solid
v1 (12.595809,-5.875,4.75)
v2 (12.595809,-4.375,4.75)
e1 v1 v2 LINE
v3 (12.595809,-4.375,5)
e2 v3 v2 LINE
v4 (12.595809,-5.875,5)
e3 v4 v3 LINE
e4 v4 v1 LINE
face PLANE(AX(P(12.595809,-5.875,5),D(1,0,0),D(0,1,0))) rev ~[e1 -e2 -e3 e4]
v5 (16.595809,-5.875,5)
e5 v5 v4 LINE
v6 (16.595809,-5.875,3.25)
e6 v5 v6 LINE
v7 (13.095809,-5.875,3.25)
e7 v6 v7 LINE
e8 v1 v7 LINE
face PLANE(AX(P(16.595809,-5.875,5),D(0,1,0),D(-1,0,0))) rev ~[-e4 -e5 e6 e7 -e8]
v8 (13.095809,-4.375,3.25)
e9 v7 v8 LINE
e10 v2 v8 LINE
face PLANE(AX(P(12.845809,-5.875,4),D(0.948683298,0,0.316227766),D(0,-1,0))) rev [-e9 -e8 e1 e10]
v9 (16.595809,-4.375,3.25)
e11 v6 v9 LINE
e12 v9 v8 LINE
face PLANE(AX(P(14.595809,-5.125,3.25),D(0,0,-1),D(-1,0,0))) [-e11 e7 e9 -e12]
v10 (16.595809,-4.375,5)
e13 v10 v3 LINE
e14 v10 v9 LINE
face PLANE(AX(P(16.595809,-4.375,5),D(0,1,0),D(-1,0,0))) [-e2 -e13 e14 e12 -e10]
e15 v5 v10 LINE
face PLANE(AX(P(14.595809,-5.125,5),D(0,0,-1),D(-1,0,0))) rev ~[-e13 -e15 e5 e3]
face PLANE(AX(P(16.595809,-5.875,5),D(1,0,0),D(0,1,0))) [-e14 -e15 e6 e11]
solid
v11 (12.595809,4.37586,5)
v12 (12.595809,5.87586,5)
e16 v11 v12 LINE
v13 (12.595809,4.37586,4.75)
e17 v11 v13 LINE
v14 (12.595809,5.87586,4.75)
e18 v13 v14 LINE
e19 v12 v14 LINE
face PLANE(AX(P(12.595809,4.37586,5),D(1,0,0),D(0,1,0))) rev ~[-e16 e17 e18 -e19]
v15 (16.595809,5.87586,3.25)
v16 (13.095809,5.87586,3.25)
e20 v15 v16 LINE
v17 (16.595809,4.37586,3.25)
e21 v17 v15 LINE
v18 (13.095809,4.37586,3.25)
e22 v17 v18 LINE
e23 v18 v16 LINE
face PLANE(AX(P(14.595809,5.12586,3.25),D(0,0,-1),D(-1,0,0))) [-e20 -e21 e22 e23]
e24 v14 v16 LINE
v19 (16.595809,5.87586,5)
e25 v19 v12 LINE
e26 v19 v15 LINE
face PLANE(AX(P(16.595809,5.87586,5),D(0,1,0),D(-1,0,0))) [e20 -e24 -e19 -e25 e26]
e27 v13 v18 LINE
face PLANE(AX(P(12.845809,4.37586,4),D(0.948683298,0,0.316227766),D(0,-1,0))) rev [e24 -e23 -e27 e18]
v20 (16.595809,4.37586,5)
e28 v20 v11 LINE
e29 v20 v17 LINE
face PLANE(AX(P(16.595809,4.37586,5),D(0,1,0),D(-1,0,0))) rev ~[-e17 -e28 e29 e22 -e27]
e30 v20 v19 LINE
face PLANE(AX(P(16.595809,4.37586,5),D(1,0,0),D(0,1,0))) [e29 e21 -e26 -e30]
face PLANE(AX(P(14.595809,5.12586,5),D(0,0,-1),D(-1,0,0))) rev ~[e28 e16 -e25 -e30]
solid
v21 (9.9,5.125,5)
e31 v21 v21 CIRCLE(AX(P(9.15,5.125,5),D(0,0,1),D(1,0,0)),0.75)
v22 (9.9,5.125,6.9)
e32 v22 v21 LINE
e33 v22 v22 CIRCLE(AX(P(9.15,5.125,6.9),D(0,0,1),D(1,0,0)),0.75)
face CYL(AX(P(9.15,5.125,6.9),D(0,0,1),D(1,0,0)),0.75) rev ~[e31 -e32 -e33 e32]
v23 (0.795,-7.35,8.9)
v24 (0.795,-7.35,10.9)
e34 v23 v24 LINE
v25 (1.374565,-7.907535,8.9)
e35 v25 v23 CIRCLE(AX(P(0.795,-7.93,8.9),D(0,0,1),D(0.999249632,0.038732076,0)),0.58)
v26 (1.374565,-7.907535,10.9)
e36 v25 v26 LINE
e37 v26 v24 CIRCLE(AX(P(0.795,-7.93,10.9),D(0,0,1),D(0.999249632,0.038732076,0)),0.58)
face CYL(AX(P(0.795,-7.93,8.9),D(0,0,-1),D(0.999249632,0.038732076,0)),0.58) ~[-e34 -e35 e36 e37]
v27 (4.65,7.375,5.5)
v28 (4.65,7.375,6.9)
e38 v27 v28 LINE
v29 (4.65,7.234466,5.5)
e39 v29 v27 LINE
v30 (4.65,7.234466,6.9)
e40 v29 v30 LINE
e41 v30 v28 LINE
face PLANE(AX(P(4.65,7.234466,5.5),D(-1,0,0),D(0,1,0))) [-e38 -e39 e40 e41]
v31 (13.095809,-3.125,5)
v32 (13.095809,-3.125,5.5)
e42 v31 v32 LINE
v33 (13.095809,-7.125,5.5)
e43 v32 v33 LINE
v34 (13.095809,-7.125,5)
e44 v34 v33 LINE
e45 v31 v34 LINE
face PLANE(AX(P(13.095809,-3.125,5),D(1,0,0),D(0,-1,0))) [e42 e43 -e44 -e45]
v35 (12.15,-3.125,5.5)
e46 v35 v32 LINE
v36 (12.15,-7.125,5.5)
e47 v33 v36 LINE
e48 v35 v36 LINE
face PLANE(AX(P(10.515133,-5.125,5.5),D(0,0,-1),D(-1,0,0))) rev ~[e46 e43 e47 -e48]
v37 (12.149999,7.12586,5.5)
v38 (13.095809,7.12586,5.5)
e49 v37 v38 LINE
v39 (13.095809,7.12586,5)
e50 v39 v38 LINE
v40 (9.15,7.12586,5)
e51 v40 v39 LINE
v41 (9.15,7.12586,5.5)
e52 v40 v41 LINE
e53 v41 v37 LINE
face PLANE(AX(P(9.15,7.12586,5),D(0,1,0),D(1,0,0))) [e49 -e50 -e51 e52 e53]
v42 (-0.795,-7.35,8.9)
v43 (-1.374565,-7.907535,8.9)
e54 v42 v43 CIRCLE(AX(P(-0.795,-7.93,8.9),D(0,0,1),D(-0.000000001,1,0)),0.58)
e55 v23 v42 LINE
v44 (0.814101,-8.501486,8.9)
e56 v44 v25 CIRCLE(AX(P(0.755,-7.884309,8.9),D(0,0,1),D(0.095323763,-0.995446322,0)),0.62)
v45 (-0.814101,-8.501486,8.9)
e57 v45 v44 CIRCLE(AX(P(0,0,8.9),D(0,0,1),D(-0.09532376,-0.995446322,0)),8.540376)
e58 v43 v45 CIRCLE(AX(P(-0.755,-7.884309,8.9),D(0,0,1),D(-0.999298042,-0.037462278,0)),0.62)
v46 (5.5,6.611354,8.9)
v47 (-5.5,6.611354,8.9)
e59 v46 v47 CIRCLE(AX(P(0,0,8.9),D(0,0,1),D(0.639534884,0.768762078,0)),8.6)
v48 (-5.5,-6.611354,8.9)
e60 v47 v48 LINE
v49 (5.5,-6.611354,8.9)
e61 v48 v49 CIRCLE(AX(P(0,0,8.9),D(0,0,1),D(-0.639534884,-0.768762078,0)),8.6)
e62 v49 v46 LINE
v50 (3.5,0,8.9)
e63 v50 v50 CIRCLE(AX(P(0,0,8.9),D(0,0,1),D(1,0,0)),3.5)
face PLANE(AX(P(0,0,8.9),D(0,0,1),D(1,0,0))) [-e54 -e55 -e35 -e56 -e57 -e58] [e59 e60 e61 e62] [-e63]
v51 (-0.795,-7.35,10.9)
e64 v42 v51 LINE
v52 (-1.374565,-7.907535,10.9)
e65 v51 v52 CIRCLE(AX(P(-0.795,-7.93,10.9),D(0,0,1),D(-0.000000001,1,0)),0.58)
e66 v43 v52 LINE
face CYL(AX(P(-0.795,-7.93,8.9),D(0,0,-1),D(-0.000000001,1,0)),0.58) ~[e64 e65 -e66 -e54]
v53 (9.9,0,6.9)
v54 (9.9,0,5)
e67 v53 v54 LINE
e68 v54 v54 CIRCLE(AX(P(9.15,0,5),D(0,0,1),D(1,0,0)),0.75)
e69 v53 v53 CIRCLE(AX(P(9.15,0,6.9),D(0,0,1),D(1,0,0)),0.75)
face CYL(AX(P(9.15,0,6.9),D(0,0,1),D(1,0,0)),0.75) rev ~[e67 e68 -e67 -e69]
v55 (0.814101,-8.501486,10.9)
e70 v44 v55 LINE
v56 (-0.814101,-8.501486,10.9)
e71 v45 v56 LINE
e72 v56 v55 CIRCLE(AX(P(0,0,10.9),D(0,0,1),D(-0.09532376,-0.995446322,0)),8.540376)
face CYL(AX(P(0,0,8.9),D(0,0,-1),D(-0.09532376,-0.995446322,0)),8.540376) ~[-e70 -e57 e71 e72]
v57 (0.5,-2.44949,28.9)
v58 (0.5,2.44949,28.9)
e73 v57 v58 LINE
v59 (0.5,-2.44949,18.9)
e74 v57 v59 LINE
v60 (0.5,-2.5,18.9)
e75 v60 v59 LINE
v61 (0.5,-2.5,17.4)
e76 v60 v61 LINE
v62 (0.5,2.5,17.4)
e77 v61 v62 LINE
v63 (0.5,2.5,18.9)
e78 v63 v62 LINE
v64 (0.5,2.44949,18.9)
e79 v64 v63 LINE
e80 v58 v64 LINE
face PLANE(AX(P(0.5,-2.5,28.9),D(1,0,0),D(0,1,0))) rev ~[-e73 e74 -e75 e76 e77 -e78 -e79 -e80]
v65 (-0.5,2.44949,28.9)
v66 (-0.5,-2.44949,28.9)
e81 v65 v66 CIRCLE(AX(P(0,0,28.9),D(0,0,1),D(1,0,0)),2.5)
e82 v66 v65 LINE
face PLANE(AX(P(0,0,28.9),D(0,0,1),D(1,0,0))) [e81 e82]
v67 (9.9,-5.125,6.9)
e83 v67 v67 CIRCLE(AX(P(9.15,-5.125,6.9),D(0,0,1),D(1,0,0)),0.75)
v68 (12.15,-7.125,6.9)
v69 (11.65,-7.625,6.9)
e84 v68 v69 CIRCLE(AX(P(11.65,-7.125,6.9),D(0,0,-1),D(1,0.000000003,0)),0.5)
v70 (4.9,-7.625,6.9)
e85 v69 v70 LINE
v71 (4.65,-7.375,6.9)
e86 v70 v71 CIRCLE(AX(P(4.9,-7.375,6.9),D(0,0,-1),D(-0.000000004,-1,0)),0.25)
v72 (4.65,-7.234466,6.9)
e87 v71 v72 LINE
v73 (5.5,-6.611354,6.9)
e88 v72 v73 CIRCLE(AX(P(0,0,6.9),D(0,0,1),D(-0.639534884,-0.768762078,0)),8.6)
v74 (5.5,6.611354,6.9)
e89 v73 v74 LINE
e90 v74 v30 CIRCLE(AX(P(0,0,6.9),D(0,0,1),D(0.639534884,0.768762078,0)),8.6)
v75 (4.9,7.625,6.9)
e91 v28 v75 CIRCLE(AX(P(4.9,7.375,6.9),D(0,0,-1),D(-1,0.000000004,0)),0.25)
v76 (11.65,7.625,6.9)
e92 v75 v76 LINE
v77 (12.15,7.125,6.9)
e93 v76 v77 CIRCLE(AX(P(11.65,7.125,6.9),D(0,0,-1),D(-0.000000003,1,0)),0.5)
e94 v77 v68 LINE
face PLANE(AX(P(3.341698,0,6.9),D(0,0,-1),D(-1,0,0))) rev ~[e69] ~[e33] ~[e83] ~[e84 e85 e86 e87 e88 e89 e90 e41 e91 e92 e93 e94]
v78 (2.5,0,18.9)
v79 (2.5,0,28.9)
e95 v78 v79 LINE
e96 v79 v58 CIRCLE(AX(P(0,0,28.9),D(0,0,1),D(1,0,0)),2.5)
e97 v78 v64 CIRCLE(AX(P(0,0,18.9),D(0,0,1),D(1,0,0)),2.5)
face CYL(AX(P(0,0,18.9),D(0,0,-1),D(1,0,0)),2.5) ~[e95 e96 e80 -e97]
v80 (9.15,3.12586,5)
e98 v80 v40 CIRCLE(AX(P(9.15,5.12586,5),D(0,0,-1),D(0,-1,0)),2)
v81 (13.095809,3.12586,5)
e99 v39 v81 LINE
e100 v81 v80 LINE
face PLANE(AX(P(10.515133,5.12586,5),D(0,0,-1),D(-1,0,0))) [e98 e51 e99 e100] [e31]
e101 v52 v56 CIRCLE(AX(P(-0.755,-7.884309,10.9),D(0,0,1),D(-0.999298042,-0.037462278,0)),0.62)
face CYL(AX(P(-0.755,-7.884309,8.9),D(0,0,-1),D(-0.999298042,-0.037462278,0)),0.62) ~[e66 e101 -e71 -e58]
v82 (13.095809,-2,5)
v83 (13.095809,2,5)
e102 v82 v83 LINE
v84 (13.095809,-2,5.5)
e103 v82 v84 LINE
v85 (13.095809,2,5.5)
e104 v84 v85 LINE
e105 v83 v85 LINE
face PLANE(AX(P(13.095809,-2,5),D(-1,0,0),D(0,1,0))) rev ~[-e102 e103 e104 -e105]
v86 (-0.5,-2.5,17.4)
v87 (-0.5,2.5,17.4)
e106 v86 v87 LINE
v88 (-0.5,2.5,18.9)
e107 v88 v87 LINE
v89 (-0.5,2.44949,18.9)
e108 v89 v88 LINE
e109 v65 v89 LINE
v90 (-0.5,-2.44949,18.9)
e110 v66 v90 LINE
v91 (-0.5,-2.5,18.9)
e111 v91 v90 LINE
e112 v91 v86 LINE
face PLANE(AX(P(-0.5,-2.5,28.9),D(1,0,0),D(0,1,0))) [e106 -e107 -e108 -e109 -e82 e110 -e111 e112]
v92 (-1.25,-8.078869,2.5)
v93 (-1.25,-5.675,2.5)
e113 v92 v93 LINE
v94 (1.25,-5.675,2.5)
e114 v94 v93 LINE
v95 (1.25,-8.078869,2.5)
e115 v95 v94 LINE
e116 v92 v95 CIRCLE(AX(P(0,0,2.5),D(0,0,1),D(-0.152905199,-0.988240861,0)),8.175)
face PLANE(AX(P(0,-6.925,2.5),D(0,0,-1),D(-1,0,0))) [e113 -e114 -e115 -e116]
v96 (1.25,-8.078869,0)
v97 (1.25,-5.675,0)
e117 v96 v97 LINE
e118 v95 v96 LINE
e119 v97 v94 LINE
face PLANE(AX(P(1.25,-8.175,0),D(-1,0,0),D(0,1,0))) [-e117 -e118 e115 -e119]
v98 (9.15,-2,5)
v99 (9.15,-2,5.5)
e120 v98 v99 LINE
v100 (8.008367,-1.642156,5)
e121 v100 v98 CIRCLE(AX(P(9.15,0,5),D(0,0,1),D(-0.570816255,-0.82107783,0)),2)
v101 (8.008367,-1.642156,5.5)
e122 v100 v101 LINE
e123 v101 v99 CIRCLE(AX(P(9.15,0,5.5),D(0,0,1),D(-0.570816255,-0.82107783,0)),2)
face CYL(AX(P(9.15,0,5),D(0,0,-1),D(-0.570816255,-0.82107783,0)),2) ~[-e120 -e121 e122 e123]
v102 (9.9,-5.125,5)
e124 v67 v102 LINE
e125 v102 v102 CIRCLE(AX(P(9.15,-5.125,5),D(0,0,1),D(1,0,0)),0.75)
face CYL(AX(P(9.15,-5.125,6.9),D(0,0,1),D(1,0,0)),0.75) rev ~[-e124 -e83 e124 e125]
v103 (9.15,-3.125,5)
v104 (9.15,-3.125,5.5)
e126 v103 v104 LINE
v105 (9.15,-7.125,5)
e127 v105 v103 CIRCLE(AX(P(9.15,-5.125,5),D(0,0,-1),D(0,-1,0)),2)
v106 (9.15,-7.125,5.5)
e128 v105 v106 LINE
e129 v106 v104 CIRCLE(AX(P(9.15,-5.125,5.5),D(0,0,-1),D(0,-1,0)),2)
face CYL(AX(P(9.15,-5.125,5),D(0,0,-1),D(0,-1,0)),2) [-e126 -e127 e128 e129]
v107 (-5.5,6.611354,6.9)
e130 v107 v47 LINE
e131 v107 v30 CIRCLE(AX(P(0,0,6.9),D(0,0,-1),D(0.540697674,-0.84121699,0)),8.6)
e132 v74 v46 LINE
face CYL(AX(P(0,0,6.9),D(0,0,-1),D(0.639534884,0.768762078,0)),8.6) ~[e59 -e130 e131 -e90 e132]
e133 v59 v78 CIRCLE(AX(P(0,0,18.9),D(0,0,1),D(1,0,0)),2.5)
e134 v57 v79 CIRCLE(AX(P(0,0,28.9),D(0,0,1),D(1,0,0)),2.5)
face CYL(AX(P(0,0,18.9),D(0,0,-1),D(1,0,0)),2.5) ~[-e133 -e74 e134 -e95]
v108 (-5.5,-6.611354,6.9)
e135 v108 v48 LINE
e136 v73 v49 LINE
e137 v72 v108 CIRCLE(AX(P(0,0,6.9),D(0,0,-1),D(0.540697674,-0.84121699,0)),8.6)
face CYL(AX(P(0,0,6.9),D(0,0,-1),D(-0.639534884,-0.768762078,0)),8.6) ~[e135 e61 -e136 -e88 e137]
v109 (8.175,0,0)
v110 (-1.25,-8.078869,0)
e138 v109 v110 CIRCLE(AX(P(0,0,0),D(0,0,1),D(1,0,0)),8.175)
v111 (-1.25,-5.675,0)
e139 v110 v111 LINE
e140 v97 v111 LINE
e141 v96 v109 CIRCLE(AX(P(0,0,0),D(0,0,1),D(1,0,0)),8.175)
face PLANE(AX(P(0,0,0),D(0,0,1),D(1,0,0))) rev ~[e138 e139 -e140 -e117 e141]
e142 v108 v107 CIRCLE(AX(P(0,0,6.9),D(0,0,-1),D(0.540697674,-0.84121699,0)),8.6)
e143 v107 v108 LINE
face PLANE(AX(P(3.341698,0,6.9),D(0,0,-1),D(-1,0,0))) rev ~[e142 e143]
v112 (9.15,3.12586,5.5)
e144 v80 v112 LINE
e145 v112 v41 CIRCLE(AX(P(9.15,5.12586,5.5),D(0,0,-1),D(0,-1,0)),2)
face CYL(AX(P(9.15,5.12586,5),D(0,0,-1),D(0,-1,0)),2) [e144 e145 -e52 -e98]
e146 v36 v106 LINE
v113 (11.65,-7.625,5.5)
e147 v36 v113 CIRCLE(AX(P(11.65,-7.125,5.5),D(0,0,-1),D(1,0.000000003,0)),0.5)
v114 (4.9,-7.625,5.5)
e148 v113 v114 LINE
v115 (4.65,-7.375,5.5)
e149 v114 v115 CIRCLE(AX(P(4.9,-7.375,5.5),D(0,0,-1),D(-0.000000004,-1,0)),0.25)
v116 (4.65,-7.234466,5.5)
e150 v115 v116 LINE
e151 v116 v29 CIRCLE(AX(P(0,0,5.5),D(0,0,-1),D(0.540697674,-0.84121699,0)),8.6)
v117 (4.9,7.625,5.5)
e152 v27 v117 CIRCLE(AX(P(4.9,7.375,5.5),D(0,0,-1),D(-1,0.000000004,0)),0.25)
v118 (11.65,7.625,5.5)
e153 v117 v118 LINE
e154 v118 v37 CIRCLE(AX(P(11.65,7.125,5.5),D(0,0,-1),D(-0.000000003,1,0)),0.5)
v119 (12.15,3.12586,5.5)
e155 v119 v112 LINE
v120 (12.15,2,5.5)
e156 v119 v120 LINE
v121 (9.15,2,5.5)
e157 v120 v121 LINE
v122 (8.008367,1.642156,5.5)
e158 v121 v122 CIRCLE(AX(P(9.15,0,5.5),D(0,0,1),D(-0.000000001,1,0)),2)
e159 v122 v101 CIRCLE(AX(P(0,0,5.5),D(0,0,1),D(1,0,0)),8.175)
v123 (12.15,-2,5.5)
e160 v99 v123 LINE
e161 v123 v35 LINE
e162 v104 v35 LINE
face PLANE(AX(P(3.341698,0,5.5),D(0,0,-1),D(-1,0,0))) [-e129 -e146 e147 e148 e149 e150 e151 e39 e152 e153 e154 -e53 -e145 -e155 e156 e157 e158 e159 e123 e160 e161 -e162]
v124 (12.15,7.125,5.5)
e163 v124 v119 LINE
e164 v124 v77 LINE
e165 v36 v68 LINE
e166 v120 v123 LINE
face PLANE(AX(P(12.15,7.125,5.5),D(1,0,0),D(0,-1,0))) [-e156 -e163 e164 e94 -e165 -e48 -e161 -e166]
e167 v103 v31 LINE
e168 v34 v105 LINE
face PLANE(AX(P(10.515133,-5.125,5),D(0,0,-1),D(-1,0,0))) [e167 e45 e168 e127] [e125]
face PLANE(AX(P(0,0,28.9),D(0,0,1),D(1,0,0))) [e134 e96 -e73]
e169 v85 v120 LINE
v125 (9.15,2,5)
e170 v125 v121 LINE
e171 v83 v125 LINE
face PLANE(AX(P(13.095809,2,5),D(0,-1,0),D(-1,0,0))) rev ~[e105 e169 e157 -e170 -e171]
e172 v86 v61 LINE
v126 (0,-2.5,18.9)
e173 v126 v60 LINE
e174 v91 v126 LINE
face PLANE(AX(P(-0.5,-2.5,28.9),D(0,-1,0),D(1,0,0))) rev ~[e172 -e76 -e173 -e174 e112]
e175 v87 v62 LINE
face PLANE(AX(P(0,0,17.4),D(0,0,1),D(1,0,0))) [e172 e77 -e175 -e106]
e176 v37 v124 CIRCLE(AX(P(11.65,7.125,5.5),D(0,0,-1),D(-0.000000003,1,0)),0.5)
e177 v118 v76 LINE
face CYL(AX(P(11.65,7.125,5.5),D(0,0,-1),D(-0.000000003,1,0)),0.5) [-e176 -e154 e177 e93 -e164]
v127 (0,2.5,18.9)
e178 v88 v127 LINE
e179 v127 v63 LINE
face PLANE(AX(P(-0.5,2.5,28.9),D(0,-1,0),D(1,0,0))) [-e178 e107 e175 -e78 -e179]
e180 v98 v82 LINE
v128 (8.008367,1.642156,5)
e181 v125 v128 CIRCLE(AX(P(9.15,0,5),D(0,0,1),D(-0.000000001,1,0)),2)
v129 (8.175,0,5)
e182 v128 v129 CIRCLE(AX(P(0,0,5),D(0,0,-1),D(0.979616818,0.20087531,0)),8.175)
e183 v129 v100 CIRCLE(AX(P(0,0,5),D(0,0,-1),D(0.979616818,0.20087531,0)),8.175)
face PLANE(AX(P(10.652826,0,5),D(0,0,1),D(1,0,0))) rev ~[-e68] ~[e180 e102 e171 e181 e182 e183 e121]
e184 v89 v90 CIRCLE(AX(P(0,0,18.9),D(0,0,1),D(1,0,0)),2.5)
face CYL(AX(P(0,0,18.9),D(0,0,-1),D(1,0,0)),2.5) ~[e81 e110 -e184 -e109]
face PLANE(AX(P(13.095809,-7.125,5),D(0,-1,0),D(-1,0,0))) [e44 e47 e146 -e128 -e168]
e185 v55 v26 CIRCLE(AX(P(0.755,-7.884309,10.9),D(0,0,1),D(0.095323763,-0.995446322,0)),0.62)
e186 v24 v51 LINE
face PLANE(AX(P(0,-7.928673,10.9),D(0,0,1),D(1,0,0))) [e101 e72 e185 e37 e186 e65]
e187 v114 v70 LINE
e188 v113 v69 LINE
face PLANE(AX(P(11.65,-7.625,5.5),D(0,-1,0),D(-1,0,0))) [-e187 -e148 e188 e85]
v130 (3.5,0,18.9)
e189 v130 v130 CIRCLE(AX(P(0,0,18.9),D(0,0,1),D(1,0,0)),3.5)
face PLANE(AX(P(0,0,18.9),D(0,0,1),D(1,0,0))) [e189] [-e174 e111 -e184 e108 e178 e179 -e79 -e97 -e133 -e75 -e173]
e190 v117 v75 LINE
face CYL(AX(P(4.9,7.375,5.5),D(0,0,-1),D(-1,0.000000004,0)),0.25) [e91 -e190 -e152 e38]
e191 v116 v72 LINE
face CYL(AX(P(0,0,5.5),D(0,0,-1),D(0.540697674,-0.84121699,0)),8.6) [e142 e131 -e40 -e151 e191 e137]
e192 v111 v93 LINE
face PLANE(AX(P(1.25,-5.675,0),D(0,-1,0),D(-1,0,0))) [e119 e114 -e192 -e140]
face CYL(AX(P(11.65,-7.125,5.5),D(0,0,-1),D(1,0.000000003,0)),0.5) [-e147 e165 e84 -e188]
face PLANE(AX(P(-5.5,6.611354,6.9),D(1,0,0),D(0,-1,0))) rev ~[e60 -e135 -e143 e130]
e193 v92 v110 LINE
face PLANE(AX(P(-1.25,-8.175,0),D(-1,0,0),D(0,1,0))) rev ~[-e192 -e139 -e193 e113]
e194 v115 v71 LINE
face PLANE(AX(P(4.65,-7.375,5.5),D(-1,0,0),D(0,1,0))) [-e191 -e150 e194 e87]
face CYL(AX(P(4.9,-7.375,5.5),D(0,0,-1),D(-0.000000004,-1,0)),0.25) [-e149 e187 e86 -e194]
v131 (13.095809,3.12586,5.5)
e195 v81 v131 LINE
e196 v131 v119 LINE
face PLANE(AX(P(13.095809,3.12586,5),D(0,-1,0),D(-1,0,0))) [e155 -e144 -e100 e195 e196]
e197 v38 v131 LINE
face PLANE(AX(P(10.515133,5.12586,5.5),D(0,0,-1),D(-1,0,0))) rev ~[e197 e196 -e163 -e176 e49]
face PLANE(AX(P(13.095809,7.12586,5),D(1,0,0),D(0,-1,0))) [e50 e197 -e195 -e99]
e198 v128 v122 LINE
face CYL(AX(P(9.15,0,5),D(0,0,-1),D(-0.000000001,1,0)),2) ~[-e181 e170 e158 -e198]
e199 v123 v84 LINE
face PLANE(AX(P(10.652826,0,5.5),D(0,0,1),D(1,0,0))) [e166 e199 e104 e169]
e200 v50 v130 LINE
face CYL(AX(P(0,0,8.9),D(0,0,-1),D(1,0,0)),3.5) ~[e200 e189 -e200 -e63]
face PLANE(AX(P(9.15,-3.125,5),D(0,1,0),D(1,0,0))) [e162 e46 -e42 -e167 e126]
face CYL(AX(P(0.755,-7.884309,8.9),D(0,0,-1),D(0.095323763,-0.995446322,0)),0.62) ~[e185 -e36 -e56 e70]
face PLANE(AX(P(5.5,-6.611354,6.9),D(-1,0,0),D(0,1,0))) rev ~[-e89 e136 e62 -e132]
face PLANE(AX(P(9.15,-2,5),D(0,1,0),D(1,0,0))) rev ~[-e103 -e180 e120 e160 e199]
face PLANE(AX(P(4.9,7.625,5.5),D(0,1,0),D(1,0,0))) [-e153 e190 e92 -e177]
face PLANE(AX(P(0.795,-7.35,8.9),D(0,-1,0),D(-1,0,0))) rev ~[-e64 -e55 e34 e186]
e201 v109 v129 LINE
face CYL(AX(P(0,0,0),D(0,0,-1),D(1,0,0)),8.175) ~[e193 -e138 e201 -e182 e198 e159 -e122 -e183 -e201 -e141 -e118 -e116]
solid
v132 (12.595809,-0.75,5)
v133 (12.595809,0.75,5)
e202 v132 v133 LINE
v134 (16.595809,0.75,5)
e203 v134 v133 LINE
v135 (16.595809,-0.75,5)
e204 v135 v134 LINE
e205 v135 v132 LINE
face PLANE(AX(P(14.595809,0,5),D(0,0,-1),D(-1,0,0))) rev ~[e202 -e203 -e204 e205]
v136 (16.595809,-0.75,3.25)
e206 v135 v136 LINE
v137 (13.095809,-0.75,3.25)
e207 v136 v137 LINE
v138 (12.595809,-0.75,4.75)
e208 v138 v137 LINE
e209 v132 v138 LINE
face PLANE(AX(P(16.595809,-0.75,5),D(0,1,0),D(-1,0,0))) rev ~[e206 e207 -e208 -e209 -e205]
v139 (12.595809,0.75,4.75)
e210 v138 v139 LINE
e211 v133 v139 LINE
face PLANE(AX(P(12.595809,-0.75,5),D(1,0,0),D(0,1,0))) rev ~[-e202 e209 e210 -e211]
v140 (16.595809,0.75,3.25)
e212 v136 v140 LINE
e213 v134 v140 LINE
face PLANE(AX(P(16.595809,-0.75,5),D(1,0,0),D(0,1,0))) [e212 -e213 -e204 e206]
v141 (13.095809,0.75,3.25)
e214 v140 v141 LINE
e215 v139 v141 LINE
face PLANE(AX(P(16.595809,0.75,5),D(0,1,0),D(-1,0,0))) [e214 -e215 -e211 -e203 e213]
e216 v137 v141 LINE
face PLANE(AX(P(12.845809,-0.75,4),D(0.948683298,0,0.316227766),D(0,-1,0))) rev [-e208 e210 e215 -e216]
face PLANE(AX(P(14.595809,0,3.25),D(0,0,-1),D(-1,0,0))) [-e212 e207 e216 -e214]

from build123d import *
from build123d.topology import SkipClean

# Parameters (mm, degrees)
SKETCH_2_R          = 8.175
EXTRUDE_1_DEPTH     = 5.5
EXTRUDE_2_DEPTH     = 1.4
SKETCH_5_W          = 2.5
SKETCH_5_H          = 2.5
CUT_EXTRUDE_1_DEPTH = 2.5
EXTRUDE_3_DEPTH     = 2
SKETCH_7_R          = 3.5
EXTRUDE_4_DEPTH     = 10
SKETCH_8_R          = 2.5
EXTRUDE_5_DEPTH     = 10
SKETCH_9_W          = 1
SKETCH_9_H          = 5
CUT_EXTRUDE_5_DEPTH = 11.5
EXTRUDE_START       = 0.5
EXTRUDE_6_DEPTH     = 0.5
SKETCH_14_W         = 4
SKETCH_14_H         = 1.5
EXTRUDE_7_DEPTH     = 1.75
EXTRUDE_7_2_DEPTH   = 1.75
EXTRUDE_7_3_DEPTH   = 1.75
SKETCH_11_R         = 0.75
CUT_EXTRUDE_6_DEPTH = 1.9
CHAMFER_1_SIZE      = 1.5
CHAMFER_1_SIZE2     = 0.5
CHAMFER_2_SIZE      = 1.5
CHAMFER_2_SIZE2     = 0.5
CHAMFER_3_SIZE      = 1.5
CHAMFER_3_SIZE2     = 0.5
EXTRUDE_8_DEPTH     = 2


with BuildPart() as part:
    # Эскиз2 → Бобышка-Вытянуть1 (new body)
    with BuildSketch(Plane.XY):
        Circle(SKETCH_2_R)
    extrude(amount=EXTRUDE_1_DEPTH)

    # Эскиз3 → Бобышка-Вытянуть2 (add)
    with BuildSketch(Plane.XY.offset(5.5)):
        with BuildLine():
            Line((4.65, -7.375), (4.65, -7.234466117))
            ThreePointArc((4.65, -7.234466117), (-8.6, 0), (4.65, 7.234466117))
            Line((4.65, 7.234466117), (4.65, 7.375))
            ThreePointArc((4.65, 7.375), (4.723223305, 7.551776695), (4.9, 7.625))
            Line((4.9, 7.625), (11.65, 7.625))
            ThreePointArc((11.65, 7.625), (12.003553391, 7.478553391), (12.15, 7.125))
            Line((12.15, 7.125), (12.15, -7.125))
            ThreePointArc((12.15, -7.125), (12.003553391, -7.478553391), (11.65, -7.625))
            Line((11.65, -7.625), (4.9, -7.625))
            ThreePointArc((4.9, -7.625), (4.723223305, -7.551776695), (4.65, -7.375))
        make_face()
    extrude(amount=EXTRUDE_2_DEPTH)

    # Эскиз5 → Вырез-Вытянуть1 (cut)
    with BuildSketch(Plane(origin=(0, 0, 0), x_dir=(-1, 0, 0), z_dir=(0, 0, -1))):
        with Locations((0, -6.925)):
            Rectangle(SKETCH_5_W, SKETCH_5_H)
    extrude(amount=-CUT_EXTRUDE_1_DEPTH, mode=Mode.SUBTRACT)

    # Эскиз6 → Бобышка-Вытянуть3 (add)
    with SkipClean():  # the faces are left unmerged after this step: merging them gives an invalid solid
        with BuildSketch(Plane.XY.offset(6.9)):
            with BuildLine():
                Line((-5.5, 6.61135387), (-5.5, -6.61135387))
                ThreePointArc((-5.5, -6.61135387), (0, -8.6), (5.5, -6.61135387))
                Line((5.5, -6.61135387), (5.5, 6.61135387))
                ThreePointArc((5.5, 6.61135387), (0, 8.6), (-5.5, 6.61135387))
            make_face()
        extrude(amount=EXTRUDE_3_DEPTH)

    # Эскиз7 → Бобышка-Вытянуть4 (add)
    with SkipClean():  # the faces are left unmerged after this step: merging them gives an invalid solid
        with BuildSketch(Plane.XY.offset(8.9)):
            Circle(SKETCH_7_R)
        extrude(amount=EXTRUDE_4_DEPTH)

    # Эскиз8 → Бобышка-Вытянуть5 (add)
    with SkipClean():  # the faces are left unmerged after this step: merging them gives an invalid solid
        with BuildSketch(Plane.XY.offset(18.9)):
            Circle(SKETCH_8_R)
        extrude(amount=EXTRUDE_5_DEPTH)

    # Эскиз9 → Вырез-Вытянуть5 (cut)
    with SkipClean():  # the faces are left unmerged after this step: merging them gives an invalid solid
        with BuildSketch(Plane.XY.offset(28.9)):
            Rectangle(SKETCH_9_W, SKETCH_9_H)
        extrude(amount=-CUT_EXTRUDE_5_DEPTH, mode=Mode.SUBTRACT)

    # Эскиз12 → Бобышка-Вытянуть6 (add)
    with SkipClean():  # the faces are left unmerged after this step: merging them gives an invalid solid
        with BuildSketch(Plane(origin=(0, 0, 5.5), x_dir=(-1, 0, 0), z_dir=(0, 0, -1)).offset(EXTRUDE_START)):
            with BuildLine():
                Line((-9.15, -2), (-13.095809491, -2))
                Line((-13.095809491, -2), (-13.095809491, 2))
                Line((-13.095809491, 2), (-9.15, 2))
                ThreePointArc((-9.15, 2), (-8.551799079, 1.908443255), (-8.008367486, 1.642155658))
                ThreePointArc((-8.008367486, 1.642155658), (-8.175, 0), (-8.008367486, -1.642155658))
                ThreePointArc((-8.008367486, -1.642155658), (-8.551799079, -1.908443255), (-9.15, -2))
            make_face()
            with BuildLine():
                Line((-9.15, 7.125860343), (-13.095809491, 7.125860343))
                Line((-13.095809491, 7.125860343), (-13.095809491, 3.125860343))
                Line((-13.095809491, 3.125860343), (-9.15, 3.125860343))
                ThreePointArc((-9.15, 3.125860343), (-7.15, 5.125860343), (-9.15, 7.125860343))
            make_face()
            with BuildLine():
                Line((-13.095809491, -3.125), (-13.095809491, -7.125))
                Line((-13.095809491, -7.125), (-9.15, -7.125))
                ThreePointArc((-9.15, -7.125), (-7.15, -5.125), (-9.15, -3.125))
                Line((-9.15, -3.125), (-13.095809491, -3.125))
            make_face()
        extrude(amount=-EXTRUDE_6_DEPTH)

    # Эскиз11 → Вырез-Вытянуть6 (cut)
    with SkipClean():  # the faces are left unmerged after this step: merging them gives an invalid solid
        with BuildSketch(Plane.XY.offset(6.9)):
            with Locations((9.15, 5.125)):
                Circle(SKETCH_11_R)
            with Locations((9.15, 0)):
                Circle(SKETCH_11_R)
            with Locations((9.15, -5.125)):
                Circle(SKETCH_11_R)
        extrude(amount=-CUT_EXTRUDE_6_DEPTH, mode=Mode.SUBTRACT)

    # Эскиз15 → Бобышка-Вытянуть8 (add)
    with SkipClean():  # the faces are left unmerged after this step: merging them gives an invalid solid
        with BuildSketch(Plane.XY.offset(8.9)):
            with BuildLine():
                Line((0.795, -7.35), (-0.795, -7.35))
                ThreePointArc((-0.795, -7.35), (-1.197101063, -7.512011083), (-1.374564786, -7.907535396))
                ThreePointArc((-1.374564786, -7.907535396), (-1.20593337, -8.309819178), (-0.814100732, -8.501485504))
                ThreePointArc((-0.814100732, -8.501485504), (0, -8.540375622), (0.814100732, -8.501485504))
                ThreePointArc((0.814100732, -8.501485504), (1.20593337, -8.309819178), (1.374564786, -7.907535396))
                ThreePointArc((1.374564786, -7.907535396), (1.197101063, -7.512011083), (0.795, -7.35))
            make_face()
        extrude(amount=EXTRUDE_8_DEPTH)


with BuildPart() as body_2:
    # Эскиз14 → Бобышка-Вытянуть7 (new body)
    with BuildSketch(Plane(origin=(0, 0, 5), x_dir=(-1, 0, 0), z_dir=(0, 0, -1))):
        with Locations((-14.595809491, 5.125860343)):
            Rectangle(SKETCH_14_W, SKETCH_14_H)
    extrude(amount=EXTRUDE_7_DEPTH)

    # Фаска1
    chamfer_1_edges = [body_2.edges().sort_by_distance(p)[0] for p in [
        (12.595809491, 5.125860343, 3.25),
    ]]
    chamfer_1_side = [body_2.faces().sort_by_distance(p)[0] for p in [
        (12.595809491, 5.125860343, 4.125),
    ]]
    chamfer(chamfer_1_edges, length=CHAMFER_1_SIZE, length2=CHAMFER_1_SIZE2, reference=chamfer_1_side[0])


with BuildPart() as body_3:
    # Эскиз14 → Extrude 7 2 (new body)
    with BuildSketch(Plane(origin=(0, 0, 5), x_dir=(-1, 0, 0), z_dir=(0, 0, -1))):
        with Locations((-14.595809491, 0)):
            Rectangle(SKETCH_14_W, SKETCH_14_H)
    extrude(amount=EXTRUDE_7_2_DEPTH)

    # Фаска2
    chamfer_2_edges = [body_3.edges().sort_by_distance(p)[0] for p in [
        (12.595809491, 0, 3.25),
    ]]
    chamfer_2_side = [body_3.faces().sort_by_distance(p)[0] for p in [
        (12.595809491, 0, 4.125),
    ]]
    chamfer(chamfer_2_edges, length=CHAMFER_2_SIZE, length2=CHAMFER_2_SIZE2, reference=chamfer_2_side[0])


with BuildPart() as body_4:
    # Эскиз14 → Extrude 7 3 (new body)
    with BuildSketch(Plane(origin=(0, 0, 5), x_dir=(-1, 0, 0), z_dir=(0, 0, -1))):
        with Locations((-14.595809491, -5.125)):
            Rectangle(SKETCH_14_W, SKETCH_14_H)
    extrude(amount=EXTRUDE_7_3_DEPTH)

    # Фаска3
    chamfer_3_edges = [body_4.edges().sort_by_distance(p)[0] for p in [
        (12.595809491, -5.125, 3.25),
    ]]
    chamfer_3_side = [body_4.faces().sort_by_distance(p)[0] for p in [
        (12.595809491, -5.125, 4.125),
    ]]
    chamfer(chamfer_3_edges, length=CHAMFER_3_SIZE, length2=CHAMFER_3_SIZE2, reference=chamfer_3_side[0])


solid = Compound([part.part, body_2.part, body_3.part, body_4.part])
